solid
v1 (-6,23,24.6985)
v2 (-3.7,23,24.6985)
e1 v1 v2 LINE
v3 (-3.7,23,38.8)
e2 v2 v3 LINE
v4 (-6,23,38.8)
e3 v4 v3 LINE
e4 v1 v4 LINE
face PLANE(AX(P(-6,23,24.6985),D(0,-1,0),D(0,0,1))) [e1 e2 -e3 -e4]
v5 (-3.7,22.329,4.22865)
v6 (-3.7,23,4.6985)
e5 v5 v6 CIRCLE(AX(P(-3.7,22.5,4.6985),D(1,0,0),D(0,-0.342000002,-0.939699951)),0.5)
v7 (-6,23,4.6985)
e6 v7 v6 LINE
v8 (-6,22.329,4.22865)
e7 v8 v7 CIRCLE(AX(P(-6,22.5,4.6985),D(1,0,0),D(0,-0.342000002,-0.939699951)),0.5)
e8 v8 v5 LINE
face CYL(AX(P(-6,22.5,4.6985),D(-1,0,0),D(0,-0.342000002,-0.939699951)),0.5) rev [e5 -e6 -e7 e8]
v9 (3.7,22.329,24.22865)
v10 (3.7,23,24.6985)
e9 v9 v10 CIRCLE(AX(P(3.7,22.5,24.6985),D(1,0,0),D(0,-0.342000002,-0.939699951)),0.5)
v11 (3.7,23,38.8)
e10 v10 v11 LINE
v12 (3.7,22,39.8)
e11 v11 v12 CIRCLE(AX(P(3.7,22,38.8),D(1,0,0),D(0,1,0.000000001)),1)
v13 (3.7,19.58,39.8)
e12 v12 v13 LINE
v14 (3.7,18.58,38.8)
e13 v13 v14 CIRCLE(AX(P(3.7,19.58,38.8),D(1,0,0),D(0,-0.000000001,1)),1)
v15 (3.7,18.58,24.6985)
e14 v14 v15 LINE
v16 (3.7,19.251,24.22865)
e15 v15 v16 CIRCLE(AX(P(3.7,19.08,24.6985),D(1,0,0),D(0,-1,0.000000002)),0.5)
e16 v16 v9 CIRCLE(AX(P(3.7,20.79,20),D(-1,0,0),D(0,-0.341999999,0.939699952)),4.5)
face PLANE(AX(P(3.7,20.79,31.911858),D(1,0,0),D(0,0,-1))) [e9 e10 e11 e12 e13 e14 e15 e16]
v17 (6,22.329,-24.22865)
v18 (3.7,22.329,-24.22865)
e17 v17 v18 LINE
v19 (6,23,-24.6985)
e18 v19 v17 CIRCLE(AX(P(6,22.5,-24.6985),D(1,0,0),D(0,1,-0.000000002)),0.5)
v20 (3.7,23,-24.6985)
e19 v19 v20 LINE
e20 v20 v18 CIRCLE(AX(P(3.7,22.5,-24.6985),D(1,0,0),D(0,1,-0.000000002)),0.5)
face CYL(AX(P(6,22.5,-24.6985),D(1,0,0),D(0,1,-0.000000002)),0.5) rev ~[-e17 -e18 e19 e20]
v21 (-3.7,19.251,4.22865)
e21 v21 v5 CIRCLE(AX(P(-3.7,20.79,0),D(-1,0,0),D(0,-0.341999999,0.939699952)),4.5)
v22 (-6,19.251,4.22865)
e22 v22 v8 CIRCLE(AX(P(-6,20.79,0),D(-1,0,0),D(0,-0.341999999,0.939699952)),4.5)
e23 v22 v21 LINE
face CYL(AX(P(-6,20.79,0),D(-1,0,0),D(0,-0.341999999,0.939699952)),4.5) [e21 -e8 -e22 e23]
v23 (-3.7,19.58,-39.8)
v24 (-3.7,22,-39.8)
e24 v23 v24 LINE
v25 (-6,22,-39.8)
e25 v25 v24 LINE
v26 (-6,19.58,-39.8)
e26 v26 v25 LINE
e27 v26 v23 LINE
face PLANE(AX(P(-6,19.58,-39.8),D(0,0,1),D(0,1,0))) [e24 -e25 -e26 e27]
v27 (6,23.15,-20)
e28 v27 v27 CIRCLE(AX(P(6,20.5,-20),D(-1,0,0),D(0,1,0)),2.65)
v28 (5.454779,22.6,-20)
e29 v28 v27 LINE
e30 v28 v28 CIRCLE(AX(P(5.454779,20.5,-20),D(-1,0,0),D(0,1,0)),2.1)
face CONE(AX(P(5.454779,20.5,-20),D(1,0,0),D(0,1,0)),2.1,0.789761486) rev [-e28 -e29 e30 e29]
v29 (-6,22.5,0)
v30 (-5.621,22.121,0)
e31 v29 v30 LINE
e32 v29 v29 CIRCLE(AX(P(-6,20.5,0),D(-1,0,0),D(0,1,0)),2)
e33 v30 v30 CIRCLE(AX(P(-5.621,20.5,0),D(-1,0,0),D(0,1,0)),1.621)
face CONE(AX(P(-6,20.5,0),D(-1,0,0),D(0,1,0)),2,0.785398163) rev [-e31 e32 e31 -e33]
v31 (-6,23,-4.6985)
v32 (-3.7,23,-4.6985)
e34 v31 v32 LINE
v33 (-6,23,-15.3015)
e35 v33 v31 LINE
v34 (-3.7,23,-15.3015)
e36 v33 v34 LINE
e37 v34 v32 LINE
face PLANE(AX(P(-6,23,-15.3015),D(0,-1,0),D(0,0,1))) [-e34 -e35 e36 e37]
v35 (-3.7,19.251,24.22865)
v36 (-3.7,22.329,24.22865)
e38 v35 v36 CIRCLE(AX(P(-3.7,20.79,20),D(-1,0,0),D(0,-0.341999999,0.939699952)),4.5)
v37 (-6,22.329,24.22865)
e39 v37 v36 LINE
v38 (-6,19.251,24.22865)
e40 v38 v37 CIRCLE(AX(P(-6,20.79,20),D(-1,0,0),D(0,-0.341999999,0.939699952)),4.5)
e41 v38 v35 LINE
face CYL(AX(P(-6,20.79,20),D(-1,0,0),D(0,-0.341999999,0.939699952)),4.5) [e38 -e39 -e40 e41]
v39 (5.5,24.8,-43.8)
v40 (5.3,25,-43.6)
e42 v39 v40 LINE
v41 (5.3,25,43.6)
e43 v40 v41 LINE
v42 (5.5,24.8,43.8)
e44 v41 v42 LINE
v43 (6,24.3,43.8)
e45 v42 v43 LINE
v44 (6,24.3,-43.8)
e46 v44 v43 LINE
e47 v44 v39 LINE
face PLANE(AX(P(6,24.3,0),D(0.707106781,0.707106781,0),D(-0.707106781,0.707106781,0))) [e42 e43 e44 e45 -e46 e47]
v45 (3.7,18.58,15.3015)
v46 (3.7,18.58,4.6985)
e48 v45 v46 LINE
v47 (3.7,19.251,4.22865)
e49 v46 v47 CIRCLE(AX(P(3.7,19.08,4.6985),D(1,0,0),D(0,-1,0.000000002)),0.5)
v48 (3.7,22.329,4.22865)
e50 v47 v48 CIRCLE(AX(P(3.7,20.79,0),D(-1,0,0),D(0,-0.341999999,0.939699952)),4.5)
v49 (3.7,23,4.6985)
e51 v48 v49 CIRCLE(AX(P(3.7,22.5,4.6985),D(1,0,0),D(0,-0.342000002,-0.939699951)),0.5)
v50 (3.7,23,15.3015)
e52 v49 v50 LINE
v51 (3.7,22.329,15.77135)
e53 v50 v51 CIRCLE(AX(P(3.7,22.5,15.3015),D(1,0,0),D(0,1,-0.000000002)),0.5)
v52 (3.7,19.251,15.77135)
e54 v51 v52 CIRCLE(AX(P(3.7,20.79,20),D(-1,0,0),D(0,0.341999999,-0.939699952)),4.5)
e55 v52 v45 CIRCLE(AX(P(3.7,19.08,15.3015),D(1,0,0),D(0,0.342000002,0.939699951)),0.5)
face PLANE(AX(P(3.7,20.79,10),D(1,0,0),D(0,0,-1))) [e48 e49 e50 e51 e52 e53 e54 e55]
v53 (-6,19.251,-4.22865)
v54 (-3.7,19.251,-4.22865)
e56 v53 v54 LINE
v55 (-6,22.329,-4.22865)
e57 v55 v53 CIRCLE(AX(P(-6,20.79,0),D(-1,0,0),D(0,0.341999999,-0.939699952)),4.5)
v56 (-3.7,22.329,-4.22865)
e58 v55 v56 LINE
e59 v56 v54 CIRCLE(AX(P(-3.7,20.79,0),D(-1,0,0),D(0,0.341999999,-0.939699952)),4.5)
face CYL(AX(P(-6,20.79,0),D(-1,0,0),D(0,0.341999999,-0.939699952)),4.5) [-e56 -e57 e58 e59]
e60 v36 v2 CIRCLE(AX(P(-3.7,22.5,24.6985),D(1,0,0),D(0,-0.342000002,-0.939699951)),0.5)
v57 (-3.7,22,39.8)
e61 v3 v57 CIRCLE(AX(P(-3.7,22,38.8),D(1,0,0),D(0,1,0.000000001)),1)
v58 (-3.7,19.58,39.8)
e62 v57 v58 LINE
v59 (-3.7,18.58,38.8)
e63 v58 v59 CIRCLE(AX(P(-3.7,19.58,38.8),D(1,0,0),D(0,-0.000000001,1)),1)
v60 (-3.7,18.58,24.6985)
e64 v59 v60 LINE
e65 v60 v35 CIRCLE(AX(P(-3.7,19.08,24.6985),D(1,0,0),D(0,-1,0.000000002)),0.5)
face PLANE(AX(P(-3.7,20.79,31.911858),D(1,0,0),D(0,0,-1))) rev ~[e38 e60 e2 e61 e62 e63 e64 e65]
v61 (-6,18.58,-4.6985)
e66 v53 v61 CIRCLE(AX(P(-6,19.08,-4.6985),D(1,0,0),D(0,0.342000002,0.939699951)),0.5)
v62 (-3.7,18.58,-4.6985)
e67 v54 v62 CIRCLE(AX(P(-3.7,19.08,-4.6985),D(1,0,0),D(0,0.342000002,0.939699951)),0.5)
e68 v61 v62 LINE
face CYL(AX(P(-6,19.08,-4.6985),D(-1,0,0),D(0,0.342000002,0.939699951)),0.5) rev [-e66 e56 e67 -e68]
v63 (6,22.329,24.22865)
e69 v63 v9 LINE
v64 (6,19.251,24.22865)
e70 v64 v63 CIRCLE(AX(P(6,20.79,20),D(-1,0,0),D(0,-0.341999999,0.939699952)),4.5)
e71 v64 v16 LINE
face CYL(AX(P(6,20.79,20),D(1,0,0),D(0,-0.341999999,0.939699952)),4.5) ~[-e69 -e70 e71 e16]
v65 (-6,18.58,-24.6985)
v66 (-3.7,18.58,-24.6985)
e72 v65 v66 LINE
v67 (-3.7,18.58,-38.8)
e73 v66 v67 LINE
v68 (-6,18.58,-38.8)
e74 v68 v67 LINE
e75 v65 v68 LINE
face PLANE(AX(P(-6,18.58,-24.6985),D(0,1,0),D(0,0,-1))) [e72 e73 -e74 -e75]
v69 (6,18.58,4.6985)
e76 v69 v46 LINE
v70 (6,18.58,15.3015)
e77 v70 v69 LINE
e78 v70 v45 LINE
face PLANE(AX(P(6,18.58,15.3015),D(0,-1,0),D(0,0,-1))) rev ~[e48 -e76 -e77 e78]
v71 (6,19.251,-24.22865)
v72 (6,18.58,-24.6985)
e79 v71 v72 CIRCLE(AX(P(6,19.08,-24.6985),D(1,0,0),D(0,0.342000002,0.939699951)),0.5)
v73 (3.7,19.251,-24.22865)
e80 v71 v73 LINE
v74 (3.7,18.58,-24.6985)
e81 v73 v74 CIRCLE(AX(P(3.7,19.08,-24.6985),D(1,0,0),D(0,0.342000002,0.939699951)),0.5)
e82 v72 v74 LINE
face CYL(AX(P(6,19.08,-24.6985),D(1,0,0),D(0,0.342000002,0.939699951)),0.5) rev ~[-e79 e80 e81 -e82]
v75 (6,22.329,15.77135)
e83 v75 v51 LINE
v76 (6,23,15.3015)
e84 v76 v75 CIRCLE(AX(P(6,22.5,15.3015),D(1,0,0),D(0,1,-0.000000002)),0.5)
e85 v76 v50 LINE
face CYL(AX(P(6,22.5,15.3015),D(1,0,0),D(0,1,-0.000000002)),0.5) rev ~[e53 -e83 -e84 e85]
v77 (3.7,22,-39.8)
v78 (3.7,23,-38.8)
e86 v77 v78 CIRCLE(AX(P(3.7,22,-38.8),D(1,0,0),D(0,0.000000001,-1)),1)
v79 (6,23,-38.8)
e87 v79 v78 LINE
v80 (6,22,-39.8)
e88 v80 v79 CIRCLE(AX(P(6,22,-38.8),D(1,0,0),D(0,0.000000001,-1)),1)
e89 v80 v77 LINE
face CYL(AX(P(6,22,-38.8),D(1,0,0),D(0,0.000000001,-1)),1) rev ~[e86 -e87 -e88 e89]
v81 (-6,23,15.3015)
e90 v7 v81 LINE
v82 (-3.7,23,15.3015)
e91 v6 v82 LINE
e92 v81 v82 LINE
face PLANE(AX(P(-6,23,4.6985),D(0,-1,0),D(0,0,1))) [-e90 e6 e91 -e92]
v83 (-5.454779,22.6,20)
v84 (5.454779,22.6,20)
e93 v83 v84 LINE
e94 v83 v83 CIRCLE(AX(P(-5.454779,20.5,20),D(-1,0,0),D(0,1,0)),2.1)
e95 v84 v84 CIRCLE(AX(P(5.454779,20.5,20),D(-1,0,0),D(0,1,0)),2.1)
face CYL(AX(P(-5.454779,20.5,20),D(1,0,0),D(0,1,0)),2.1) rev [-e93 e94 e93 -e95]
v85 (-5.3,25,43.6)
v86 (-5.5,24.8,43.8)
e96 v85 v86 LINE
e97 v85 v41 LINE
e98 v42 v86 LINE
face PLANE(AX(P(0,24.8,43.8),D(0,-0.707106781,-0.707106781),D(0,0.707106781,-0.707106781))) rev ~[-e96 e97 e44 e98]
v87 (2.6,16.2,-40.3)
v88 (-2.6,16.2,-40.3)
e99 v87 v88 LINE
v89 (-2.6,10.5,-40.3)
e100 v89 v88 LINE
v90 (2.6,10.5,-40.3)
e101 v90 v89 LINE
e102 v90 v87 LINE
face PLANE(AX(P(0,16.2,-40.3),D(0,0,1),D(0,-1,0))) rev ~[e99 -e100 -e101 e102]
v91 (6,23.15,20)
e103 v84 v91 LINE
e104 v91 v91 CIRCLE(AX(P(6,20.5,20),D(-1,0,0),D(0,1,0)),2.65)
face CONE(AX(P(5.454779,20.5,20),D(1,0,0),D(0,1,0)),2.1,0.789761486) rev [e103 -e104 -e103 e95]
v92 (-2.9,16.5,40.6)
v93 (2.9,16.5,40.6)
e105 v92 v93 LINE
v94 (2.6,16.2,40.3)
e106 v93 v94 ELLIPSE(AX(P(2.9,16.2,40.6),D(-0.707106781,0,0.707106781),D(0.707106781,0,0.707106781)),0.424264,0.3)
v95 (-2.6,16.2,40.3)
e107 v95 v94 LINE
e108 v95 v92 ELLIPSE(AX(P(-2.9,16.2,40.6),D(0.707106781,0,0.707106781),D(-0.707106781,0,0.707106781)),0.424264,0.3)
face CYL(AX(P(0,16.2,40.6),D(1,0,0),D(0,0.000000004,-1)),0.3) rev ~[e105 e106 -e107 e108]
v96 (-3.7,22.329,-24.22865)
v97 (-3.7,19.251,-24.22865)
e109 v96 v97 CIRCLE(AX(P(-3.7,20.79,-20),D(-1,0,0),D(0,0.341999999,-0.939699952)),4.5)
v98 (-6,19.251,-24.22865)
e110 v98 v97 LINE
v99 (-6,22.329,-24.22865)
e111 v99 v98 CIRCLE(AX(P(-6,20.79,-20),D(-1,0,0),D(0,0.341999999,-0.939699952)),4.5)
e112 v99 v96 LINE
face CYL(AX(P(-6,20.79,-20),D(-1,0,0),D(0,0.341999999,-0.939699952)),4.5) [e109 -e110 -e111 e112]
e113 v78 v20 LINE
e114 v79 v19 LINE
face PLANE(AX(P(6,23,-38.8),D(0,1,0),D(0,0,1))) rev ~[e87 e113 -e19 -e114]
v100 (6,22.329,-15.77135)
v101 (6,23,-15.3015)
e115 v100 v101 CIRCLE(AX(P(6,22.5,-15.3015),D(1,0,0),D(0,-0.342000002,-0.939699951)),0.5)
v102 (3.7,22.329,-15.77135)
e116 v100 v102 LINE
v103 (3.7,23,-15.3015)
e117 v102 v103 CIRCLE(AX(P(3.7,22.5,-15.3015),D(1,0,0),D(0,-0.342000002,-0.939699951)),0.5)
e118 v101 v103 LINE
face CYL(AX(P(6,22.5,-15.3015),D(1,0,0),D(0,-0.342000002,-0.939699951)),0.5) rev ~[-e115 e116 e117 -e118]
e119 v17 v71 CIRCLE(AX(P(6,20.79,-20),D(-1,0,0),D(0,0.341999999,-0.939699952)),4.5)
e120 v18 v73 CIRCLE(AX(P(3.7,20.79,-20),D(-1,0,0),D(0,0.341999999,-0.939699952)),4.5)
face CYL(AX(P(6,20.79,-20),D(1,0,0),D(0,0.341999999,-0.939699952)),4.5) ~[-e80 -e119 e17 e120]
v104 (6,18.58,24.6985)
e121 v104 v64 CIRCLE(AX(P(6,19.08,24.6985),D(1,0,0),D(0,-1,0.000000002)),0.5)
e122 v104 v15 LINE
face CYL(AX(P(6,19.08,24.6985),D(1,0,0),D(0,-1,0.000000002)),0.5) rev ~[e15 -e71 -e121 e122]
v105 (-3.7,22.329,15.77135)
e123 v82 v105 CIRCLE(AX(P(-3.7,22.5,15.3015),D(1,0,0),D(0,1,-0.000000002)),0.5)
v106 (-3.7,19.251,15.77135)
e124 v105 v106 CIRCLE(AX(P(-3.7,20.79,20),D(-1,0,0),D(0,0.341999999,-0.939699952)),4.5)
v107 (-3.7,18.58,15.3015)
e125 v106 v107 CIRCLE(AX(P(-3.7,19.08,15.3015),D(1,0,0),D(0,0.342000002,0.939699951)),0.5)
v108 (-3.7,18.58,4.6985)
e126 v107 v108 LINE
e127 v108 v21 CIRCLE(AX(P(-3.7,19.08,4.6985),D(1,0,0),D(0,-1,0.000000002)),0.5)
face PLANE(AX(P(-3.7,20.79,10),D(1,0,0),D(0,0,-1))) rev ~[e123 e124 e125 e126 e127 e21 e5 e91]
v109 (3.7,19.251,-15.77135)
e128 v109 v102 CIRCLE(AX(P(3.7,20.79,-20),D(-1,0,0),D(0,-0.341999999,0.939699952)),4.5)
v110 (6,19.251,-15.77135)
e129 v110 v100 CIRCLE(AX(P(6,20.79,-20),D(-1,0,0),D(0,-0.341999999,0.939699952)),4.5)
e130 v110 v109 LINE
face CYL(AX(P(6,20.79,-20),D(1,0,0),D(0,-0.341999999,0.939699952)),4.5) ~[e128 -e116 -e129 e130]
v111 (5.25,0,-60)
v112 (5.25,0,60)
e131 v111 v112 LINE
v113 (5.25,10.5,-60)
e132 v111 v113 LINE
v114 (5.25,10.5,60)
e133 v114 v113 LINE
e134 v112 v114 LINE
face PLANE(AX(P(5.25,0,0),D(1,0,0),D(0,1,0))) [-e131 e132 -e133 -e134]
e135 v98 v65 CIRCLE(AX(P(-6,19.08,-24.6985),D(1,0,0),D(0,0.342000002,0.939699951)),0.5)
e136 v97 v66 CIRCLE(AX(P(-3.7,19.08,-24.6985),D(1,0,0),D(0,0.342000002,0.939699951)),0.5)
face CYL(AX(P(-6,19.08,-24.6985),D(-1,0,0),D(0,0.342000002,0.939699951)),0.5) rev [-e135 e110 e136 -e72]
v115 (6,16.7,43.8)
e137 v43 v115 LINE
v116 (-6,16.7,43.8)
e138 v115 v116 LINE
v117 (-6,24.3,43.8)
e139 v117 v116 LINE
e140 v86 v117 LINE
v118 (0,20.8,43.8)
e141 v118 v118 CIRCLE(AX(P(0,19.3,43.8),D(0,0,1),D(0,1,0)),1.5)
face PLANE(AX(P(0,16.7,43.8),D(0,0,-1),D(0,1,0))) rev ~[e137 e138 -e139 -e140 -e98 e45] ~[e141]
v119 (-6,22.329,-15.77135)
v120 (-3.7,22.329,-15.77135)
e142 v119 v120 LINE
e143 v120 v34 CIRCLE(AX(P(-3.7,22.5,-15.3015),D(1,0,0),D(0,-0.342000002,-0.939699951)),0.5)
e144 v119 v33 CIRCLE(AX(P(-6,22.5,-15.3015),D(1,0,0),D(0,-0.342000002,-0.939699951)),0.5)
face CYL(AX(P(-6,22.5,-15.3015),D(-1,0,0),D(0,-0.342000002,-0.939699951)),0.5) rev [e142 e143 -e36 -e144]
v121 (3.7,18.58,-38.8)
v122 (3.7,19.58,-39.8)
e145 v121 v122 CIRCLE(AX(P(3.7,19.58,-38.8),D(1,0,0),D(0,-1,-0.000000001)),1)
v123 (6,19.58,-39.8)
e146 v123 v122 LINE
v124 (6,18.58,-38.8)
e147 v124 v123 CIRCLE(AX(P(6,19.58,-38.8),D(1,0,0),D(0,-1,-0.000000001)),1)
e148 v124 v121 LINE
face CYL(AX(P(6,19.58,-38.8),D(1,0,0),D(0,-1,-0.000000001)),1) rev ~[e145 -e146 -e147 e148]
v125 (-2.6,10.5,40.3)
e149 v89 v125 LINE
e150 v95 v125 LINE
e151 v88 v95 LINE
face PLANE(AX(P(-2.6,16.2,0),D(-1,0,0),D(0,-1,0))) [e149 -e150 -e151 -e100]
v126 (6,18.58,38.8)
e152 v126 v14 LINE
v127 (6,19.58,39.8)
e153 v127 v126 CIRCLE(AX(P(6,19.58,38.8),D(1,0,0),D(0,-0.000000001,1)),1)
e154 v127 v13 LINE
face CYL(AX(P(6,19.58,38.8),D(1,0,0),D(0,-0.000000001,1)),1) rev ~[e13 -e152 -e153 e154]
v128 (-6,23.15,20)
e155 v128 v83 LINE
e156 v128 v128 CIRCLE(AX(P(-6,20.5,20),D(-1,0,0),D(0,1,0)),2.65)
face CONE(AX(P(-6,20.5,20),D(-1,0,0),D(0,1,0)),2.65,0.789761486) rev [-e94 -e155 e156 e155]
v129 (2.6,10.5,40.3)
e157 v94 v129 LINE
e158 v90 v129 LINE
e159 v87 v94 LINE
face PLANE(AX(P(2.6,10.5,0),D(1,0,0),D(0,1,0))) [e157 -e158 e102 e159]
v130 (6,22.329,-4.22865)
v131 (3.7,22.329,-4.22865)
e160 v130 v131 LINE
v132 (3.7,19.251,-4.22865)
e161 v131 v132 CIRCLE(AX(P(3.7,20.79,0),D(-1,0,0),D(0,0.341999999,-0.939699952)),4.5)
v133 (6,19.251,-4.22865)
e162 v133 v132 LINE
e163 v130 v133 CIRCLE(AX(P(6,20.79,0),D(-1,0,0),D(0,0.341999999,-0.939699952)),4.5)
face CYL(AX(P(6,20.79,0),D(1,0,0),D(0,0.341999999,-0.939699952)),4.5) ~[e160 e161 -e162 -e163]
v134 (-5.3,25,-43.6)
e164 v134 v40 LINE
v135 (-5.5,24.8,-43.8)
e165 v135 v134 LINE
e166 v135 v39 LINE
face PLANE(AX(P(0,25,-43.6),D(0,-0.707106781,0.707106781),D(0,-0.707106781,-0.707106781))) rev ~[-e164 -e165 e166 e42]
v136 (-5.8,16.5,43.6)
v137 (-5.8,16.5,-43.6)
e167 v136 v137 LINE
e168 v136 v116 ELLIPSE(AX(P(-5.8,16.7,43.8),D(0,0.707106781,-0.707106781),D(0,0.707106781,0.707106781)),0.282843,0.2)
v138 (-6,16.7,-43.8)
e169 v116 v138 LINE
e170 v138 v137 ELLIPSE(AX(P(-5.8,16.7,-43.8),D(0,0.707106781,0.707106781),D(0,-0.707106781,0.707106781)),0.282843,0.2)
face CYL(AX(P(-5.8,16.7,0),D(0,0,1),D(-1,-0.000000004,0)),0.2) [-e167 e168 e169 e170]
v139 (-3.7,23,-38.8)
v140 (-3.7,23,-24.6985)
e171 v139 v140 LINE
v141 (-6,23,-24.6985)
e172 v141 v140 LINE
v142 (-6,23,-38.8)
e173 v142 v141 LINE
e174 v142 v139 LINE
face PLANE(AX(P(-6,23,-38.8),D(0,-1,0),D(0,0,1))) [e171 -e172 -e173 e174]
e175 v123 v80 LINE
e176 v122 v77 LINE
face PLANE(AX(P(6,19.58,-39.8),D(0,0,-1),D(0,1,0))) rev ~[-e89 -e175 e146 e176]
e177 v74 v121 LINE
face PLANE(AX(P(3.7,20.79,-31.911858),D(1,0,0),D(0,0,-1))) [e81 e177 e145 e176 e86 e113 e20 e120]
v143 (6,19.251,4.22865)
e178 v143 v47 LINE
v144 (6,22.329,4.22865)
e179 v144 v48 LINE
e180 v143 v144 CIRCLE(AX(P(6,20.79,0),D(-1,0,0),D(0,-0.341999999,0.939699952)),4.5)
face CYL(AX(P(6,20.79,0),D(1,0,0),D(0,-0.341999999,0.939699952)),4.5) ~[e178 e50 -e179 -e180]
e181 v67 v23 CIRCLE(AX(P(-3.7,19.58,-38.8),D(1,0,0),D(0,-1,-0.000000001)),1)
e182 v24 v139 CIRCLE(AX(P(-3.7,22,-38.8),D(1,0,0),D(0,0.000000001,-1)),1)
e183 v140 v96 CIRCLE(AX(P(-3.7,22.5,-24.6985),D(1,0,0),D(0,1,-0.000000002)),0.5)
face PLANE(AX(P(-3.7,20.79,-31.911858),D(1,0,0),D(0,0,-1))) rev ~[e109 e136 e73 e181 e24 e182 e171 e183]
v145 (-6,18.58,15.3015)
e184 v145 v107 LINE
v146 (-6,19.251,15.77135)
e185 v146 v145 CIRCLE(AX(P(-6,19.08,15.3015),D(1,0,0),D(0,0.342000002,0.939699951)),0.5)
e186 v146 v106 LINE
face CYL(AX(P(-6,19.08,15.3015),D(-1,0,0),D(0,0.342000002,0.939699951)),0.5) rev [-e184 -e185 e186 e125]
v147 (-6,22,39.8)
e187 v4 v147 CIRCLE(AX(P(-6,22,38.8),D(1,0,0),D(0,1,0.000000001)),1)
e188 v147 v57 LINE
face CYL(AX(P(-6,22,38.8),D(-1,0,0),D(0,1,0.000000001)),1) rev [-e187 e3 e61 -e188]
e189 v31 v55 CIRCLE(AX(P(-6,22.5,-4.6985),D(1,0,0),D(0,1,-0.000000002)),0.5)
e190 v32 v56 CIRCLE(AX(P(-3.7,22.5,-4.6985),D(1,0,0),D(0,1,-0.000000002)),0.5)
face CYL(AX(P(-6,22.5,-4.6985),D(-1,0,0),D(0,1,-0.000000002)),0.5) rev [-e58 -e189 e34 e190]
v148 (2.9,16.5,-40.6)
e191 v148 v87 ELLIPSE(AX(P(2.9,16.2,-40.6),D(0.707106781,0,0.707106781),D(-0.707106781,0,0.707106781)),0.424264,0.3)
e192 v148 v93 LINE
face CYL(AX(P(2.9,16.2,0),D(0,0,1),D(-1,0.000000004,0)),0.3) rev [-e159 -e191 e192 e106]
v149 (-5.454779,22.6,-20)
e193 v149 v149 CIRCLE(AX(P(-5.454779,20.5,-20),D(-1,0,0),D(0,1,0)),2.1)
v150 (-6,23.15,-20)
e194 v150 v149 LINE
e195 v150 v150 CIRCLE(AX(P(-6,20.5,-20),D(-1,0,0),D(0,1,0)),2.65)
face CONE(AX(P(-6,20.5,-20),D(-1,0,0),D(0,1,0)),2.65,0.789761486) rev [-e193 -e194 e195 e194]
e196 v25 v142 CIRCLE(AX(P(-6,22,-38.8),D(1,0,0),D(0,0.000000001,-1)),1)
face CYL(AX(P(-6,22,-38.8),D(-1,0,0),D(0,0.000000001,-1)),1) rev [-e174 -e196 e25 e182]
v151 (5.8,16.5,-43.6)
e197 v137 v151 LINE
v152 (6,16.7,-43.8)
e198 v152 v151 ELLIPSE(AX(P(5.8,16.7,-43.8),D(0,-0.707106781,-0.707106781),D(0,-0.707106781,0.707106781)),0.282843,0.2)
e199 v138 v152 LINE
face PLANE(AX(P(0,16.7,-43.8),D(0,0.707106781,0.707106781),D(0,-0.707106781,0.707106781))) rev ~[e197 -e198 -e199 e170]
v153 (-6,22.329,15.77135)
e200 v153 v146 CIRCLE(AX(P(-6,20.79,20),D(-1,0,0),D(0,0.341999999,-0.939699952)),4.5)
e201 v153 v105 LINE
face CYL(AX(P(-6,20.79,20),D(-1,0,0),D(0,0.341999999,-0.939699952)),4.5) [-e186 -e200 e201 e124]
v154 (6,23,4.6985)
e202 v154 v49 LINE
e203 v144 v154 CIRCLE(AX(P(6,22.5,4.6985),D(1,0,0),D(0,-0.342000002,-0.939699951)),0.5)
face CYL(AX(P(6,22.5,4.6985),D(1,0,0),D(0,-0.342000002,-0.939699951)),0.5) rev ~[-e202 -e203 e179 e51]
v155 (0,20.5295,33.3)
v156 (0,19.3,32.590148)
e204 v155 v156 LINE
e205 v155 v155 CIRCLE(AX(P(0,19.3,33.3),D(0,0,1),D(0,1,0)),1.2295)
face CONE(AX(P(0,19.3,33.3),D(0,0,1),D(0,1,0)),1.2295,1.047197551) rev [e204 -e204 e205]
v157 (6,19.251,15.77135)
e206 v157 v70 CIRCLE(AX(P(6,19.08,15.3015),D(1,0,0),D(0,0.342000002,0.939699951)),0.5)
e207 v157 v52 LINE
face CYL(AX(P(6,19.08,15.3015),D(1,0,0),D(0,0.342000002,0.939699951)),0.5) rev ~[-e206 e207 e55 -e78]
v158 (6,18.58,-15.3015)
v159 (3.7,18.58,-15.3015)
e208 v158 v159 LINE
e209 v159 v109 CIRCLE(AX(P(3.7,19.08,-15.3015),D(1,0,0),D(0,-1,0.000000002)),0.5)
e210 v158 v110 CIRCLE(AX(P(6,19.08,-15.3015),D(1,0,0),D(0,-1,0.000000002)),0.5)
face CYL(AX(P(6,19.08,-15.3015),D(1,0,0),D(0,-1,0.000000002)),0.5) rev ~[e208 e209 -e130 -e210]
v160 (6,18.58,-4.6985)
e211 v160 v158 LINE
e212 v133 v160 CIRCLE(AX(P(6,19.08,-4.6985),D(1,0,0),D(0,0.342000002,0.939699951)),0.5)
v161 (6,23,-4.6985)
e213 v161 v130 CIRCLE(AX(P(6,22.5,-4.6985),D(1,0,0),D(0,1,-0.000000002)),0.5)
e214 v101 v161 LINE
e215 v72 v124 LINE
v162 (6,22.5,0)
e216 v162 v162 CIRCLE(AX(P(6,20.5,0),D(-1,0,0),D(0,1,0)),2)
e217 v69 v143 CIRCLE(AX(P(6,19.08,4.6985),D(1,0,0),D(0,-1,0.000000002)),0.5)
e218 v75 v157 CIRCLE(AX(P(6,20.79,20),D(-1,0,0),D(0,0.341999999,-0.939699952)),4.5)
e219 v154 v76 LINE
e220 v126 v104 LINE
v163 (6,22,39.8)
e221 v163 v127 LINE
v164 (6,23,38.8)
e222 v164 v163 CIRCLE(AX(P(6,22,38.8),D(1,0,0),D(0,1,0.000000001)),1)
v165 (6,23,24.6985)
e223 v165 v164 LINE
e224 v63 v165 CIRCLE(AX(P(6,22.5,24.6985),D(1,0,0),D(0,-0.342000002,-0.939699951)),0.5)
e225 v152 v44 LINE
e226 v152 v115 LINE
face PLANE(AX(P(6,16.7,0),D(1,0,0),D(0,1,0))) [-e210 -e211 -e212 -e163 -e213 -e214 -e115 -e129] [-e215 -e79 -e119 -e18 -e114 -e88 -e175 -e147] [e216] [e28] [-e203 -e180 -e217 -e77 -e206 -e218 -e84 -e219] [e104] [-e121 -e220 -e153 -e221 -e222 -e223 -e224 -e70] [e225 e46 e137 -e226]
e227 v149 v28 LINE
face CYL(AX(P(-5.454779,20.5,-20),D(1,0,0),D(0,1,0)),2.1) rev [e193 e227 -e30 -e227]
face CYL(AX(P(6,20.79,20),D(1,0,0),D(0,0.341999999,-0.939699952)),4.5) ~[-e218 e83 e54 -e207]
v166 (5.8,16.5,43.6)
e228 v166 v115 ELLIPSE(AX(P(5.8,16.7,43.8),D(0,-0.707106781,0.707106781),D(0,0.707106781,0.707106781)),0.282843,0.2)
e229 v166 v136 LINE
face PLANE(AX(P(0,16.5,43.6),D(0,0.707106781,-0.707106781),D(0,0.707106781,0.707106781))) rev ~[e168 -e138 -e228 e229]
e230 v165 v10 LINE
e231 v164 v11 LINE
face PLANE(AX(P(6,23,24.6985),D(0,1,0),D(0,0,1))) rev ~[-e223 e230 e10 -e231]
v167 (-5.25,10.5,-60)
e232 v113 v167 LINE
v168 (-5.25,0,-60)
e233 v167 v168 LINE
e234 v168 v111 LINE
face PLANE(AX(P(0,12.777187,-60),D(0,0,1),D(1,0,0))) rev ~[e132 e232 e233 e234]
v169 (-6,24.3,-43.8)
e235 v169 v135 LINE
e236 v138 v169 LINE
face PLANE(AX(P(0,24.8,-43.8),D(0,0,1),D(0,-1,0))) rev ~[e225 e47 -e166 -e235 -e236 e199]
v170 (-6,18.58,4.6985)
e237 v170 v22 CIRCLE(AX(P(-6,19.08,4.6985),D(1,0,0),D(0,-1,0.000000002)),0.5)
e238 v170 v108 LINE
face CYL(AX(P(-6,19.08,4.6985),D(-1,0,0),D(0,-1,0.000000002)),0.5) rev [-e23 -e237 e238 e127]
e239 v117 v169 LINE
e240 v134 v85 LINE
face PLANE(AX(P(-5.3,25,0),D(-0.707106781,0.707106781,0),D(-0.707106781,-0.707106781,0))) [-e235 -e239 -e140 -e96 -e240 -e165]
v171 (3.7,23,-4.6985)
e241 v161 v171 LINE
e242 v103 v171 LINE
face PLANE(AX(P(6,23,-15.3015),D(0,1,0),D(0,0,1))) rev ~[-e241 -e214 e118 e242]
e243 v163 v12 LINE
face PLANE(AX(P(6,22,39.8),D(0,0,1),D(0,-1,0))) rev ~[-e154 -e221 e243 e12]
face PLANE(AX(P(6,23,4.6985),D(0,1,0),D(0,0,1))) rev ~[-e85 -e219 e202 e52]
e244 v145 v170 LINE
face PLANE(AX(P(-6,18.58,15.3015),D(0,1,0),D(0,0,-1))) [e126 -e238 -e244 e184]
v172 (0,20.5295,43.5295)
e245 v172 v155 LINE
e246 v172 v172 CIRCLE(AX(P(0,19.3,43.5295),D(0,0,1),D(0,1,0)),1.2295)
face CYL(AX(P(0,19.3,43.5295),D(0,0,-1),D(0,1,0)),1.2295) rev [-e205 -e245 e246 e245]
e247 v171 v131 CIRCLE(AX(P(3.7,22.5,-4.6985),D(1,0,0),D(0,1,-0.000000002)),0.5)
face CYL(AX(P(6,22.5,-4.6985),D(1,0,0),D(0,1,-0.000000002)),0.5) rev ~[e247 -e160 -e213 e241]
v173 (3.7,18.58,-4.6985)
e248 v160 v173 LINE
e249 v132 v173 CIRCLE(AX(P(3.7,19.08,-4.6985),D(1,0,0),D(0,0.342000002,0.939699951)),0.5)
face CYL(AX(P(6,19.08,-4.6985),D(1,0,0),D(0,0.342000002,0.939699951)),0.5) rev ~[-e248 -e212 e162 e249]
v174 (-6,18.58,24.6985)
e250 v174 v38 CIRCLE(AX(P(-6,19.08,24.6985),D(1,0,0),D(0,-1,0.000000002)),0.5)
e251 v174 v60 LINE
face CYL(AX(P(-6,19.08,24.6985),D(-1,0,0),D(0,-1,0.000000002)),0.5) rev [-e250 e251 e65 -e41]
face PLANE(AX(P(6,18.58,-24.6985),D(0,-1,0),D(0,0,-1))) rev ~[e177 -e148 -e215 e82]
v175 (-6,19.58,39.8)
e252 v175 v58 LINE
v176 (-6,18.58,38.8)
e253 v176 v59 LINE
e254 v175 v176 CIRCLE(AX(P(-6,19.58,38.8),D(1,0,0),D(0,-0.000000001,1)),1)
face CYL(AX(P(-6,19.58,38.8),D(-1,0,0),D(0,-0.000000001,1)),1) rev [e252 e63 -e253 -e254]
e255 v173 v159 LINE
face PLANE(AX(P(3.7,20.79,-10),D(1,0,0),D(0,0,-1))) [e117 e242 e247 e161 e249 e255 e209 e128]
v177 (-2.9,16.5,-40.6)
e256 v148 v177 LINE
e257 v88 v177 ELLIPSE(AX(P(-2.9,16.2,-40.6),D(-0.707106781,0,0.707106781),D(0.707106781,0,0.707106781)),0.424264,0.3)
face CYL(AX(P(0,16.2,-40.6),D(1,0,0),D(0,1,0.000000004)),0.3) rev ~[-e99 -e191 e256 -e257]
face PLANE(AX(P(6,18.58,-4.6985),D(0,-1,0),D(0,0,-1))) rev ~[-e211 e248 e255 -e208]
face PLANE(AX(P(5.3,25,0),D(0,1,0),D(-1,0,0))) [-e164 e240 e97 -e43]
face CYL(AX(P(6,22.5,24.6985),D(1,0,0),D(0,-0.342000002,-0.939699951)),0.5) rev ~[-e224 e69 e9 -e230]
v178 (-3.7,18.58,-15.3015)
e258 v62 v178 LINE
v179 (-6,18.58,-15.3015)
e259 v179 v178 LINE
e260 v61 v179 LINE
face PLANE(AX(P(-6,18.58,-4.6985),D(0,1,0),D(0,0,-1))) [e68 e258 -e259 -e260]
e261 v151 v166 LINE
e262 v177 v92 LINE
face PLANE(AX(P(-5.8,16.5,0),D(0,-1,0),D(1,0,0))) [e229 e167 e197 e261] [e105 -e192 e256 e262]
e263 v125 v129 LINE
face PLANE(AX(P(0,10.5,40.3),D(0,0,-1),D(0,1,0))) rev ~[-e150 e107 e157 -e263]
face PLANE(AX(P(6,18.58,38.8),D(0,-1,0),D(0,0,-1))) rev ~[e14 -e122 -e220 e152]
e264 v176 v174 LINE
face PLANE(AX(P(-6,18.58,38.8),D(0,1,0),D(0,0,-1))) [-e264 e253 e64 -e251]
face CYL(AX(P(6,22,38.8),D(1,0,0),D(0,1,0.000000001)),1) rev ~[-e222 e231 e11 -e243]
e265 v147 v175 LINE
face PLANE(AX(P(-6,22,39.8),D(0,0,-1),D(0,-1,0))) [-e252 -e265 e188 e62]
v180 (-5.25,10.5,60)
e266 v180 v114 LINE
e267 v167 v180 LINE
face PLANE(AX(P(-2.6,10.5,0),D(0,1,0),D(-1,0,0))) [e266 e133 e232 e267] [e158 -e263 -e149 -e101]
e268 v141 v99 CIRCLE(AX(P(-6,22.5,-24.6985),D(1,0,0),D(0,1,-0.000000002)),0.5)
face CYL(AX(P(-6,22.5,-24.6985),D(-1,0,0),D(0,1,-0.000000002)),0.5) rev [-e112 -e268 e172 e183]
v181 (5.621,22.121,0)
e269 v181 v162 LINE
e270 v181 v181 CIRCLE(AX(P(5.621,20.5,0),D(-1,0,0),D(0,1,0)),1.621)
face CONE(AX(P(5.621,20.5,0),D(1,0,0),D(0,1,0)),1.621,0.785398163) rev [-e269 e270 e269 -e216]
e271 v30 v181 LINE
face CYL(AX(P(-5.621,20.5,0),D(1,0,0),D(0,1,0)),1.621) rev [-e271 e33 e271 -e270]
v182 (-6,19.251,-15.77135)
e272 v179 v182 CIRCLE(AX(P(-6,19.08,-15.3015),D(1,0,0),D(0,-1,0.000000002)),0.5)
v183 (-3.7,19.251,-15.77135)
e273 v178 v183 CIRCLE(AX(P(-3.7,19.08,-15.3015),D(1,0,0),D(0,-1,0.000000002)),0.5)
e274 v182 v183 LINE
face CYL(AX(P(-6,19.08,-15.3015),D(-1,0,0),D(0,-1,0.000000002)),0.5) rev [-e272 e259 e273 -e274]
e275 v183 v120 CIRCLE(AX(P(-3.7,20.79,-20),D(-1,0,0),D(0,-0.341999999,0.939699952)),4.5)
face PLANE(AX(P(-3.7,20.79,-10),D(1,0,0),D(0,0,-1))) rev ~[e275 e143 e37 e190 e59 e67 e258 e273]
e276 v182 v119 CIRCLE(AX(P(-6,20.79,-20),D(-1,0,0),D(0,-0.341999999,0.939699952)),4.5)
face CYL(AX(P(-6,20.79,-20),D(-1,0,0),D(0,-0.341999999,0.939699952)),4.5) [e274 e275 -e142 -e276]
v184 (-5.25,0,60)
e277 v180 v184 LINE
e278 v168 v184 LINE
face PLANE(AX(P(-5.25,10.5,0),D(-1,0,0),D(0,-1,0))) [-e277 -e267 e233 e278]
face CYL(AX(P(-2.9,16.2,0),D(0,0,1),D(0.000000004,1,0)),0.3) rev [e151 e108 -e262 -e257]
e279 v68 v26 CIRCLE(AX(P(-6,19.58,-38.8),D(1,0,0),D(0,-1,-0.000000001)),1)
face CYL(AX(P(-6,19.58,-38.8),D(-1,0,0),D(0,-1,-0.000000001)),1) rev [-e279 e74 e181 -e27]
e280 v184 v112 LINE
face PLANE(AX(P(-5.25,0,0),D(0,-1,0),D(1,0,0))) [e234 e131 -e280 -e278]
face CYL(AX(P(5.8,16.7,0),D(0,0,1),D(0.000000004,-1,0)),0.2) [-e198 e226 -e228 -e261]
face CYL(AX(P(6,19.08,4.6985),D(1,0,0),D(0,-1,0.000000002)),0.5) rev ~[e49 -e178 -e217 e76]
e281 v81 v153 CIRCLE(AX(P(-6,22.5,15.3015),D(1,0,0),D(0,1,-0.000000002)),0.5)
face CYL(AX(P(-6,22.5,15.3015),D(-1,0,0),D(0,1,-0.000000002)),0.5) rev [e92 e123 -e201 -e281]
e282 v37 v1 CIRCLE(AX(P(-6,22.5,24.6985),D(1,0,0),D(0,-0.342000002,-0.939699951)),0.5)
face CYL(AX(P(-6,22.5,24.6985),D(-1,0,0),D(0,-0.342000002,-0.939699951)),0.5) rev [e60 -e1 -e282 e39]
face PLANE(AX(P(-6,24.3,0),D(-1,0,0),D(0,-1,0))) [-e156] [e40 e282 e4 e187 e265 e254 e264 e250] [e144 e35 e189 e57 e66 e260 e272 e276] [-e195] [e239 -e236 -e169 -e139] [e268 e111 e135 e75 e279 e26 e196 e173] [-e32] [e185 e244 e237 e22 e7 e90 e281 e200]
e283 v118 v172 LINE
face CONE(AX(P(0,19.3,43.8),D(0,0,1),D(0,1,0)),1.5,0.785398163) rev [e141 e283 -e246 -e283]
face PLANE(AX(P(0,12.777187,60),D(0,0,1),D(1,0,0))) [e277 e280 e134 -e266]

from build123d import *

# Parameters (mm, degrees)
BOSS_EXTRUDE1_DEPTH      = 60
BOSS_EXTRUDE1_DEPTH_BACK = 60
CUT_EXTRUDE1_DEPTH       = 12
CUT_EXTRUDE1_DEPTH_BACK  = 12
CUT_EXTRUDE2_DEPTH       = 2.3
CUT_EXTRUDE3_DEPTH       = 2.3
CUT_EXTRUDE4_DEPTH       = 2.3
CUT_EXTRUDE5_DEPTH       = 2.3
CUT_EXTRUDE6_START       = 2.3
CUT_EXTRUDE6_DEPTH       = 2.3
CUT_EXTRUDE7_START       = 2.3
CUT_EXTRUDE7_DEPTH       = 2.3
CUT_EXTRUDE8_START       = 2.3
CUT_EXTRUDE8_DEPTH       = 2.3
CUT_EXTRUDE9_START       = 2.3
CUT_EXTRUDE9_DEPTH       = 2.3


with BuildPart() as part:
    # Sketch1 → Boss-Extrude1 (new, two sides: drawn at the far end of the back side and taken through both)
    with BuildSketch(Plane.XY.offset(-BOSS_EXTRUDE1_DEPTH_BACK)):
        with BuildLine():
            Line((-5.8, 16.5), (-2.9, 16.5))
            ThreePointArc((-2.9, 16.5), (-2.687867966, 16.412132034), (-2.6, 16.2))
            Line((-2.6, 16.2), (-2.6, 10.5))
            Line((-2.6, 10.5), (-5.25, 10.5))
            Line((-5.25, 10.5), (-5.25, 0))
            Line((-5.25, 0), (5.25, 0))
            Line((5.25, 0), (5.25, 10.5))
            Line((5.25, 10.5), (2.6, 10.5))
            Line((2.6, 10.5), (2.6, 16.2))
            ThreePointArc((2.6, 16.2), (2.687867966, 16.412132034), (2.9, 16.5))
            Line((2.9, 16.5), (5.8, 16.5))
            ThreePointArc((5.8, 16.5), (5.941421356, 16.558578644), (6, 16.7))
            Line((6, 16.7), (6, 24.3))
            Line((6, 24.3), (5.3, 25))
            Line((5.3, 25), (-5.3, 25))
            Line((-5.3, 25), (-6, 24.3))
            Line((-6, 24.3), (-6, 16.7))
            ThreePointArc((-6, 16.7), (-5.941421356, 16.558578644), (-5.8, 16.5))
        make_face()
    extrude(amount=BOSS_EXTRUDE1_DEPTH + BOSS_EXTRUDE1_DEPTH_BACK)

    # Sketch2 → Cut-Extrude1 (cut, two sides: drawn at the far end of the back side and taken through both)
    with BuildSketch(Plane(origin=(0, 0, 0), x_dir=(0, 0, -1), z_dir=(1, 0, 0)).offset(-CUT_EXTRUDE1_DEPTH_BACK)):
        with BuildLine():
            Line((-65, 30), (-65, 10.5))
            Line((-65, 10.5), (-40.3, 10.5))
            Line((-40.3, 10.5), (-40.3, 16.2))
            ThreePointArc((-40.3, 16.2), (-40.387867966, 16.412132034), (-40.6, 16.5))
            Line((-40.6, 16.5), (-43.6, 16.5))
            Line((-43.6, 16.5), (-43.8, 16.7))
            Line((-43.8, 16.7), (-43.8, 24.8))
            Line((-43.8, 24.8), (-43.6, 25))
            Line((-43.6, 25), (43.6, 25))
            Line((43.6, 25), (43.8, 24.8))
            Line((43.8, 24.8), (43.8, 16.7))
            Line((43.8, 16.7), (43.6, 16.5))
            Line((43.6, 16.5), (40.6, 16.5))
            ThreePointArc((40.6, 16.5), (40.387867966, 16.412132034), (40.3, 16.2))
            Line((40.3, 16.2), (40.3, 10.5))
            Line((40.3, 10.5), (65, 10.5))
            Line((65, 10.5), (65, 30))
            Line((65, 30), (-65, 30))
        make_face()
    extrude(amount=CUT_EXTRUDE1_DEPTH + CUT_EXTRUDE1_DEPTH_BACK, mode=Mode.SUBTRACT)

    # Sketch3 → Cut-Revolve1 (revolve, cut)
    with BuildSketch(Plane.XY):
        Polygon((-6, 20.5), (-6, 22.5), (-5.621, 22.121), (5.621, 22.121), (6, 22.5), (6, 20.5), align=None)
    revolve(axis=Axis((6, 20.5, 0), (-1, 0, 0)), mode=Mode.SUBTRACT)

    # Sketch4 → Cut-Revolve2 (revolve, cut)
    with BuildSketch(Plane.XY.offset(20)):
        Polygon((-6, 20.5), (-6, 23.15), (-5.454778834, 22.6), (5.454778834, 22.6), (6, 23.15), (6, 20.5), align=None)
    revolve(axis=Axis((0, 20.5, 20), (-1, 0, 0)), mode=Mode.SUBTRACT)

    # Sketch5 → Cut-Revolve3 (revolve, cut)
    with BuildSketch(Plane.XY.offset(-20)):
        Polygon((-6, 20.5), (-6, 23.15), (-5.454778834, 22.6), (5.454778834, 22.6), (6, 23.15), (6, 20.5), align=None)
    revolve(axis=Axis((0, 20.5, -20), (-1, 0, 0)), mode=Mode.SUBTRACT)

    # Sketch6 → Cut-Revolve4 (revolve, cut)
    with BuildSketch(Plane(origin=(0, 0, 0), x_dir=(0, 0, -1), z_dir=(1, 0, 0))):
        Polygon((-43.8, 19.3), (-43.8, 20.8), (-43.5295, 20.5295), (-33.3, 20.5295), (-32.590147844, 19.3), align=None)
    revolve(axis=Axis((0, 19.3, 32.590147844), (0, 0, 1)), mode=Mode.SUBTRACT)

    # Sketch7 → Cut-Extrude2 (cut)
    with BuildSketch(Plane(origin=(6, 0, 0), x_dir=(0, 0, -1), z_dir=(1, 0, 0))):
        with BuildLine():
            Line((24.698499761, 18.58), (38.8, 18.58))
            ThreePointArc((38.8, 18.58), (39.507106781, 18.872893219), (39.8, 19.58))
            Line((39.8, 19.58), (39.8, 22))
            ThreePointArc((39.8, 22), (39.507106781, 22.707106781), (38.8, 23))
            Line((38.8, 23), (24.698499761, 23))
            ThreePointArc((24.698499761, 23), (24.288926812, 22.786792608), (24.228649785, 22.329))
            ThreePointArc((24.228649785, 22.329), (24.5, 20.79), (24.228649785, 19.251))
            ThreePointArc((24.228649785, 19.251), (24.288926812, 18.793207392), (24.698499761, 18.58))
        make_face()
    extrude(amount=-CUT_EXTRUDE2_DEPTH, mode=Mode.SUBTRACT)

    # Sketch8 → Cut-Extrude3 (cut)
    with BuildSketch(Plane(origin=(6, 0, 0), x_dir=(0, 0, -1), z_dir=(1, 0, 0))):
        with BuildLine():
            Line((-39.8, 22), (-39.8, 19.58))
            ThreePointArc((-39.8, 19.58), (-39.507106781, 18.872893219), (-38.8, 18.58))
            Line((-38.8, 18.58), (-24.698499761, 18.58))
            ThreePointArc((-24.698499761, 18.58), (-24.288926812, 18.793207392), (-24.228649785, 19.251))
            ThreePointArc((-24.228649785, 19.251), (-24.5, 20.79), (-24.228649785, 22.329))
            ThreePointArc((-24.228649785, 22.329), (-24.288926812, 22.786792608), (-24.698499761, 23))
            Line((-24.698499761, 23), (-38.8, 23))
            ThreePointArc((-38.8, 23), (-39.507106781, 22.707106781), (-39.8, 22))
        make_face()
    extrude(amount=-CUT_EXTRUDE3_DEPTH, mode=Mode.SUBTRACT)

    # Sketch9 → Cut-Extrude4 (cut)
    with BuildSketch(Plane(origin=(6, 0, 0), x_dir=(0, 0, -1), z_dir=(1, 0, 0))):
        with BuildLine():
            Line((4.698499761, 18.58), (15.301500239, 18.58))
            ThreePointArc((15.301500239, 18.58), (15.711073188, 18.793207392), (15.771350215, 19.251))
            ThreePointArc((15.771350215, 19.251), (15.5, 20.79), (15.771350215, 22.329))
            ThreePointArc((15.771350215, 22.329), (15.711073188, 22.786792608), (15.301500239, 23))
            Line((15.301500239, 23), (4.698499761, 23))
            ThreePointArc((4.698499761, 23), (4.288926812, 22.786792608), (4.228649785, 22.329))
            ThreePointArc((4.228649785, 22.329), (4.5, 20.79), (4.228649785, 19.251))
            ThreePointArc((4.228649785, 19.251), (4.288926812, 18.793207392), (4.698499761, 18.58))
        make_face()
    extrude(amount=-CUT_EXTRUDE4_DEPTH, mode=Mode.SUBTRACT)

    # Sketch10 → Cut-Extrude5 (cut)
    with BuildSketch(Plane(origin=(6, 0, 0), x_dir=(0, 0, -1), z_dir=(1, 0, 0))):
        with BuildLine():
            Line((-15.301500239, 18.58), (-4.698499761, 18.58))
            ThreePointArc((-4.698499761, 18.58), (-4.288926812, 18.793207392), (-4.228649785, 19.251))
            ThreePointArc((-4.228649785, 19.251), (-4.5, 20.79), (-4.228649785, 22.329))
            ThreePointArc((-4.228649785, 22.329), (-4.288926812, 22.786792608), (-4.698499761, 23))
            Line((-4.698499761, 23), (-15.301500239, 23))
            ThreePointArc((-15.301500239, 23), (-15.711073188, 22.786792608), (-15.771350215, 22.329))
            ThreePointArc((-15.771350215, 22.329), (-15.5, 20.79), (-15.771350215, 19.251))
            ThreePointArc((-15.771350215, 19.251), (-15.711073188, 18.793207392), (-15.301500239, 18.58))
        make_face()
    extrude(amount=-CUT_EXTRUDE5_DEPTH, mode=Mode.SUBTRACT)

    # Sketch11 → Cut-Extrude6 (cut)
    with BuildSketch(Plane(origin=(-6, 0, 0), x_dir=(0, 0, -1), z_dir=(1, 0, 0)).offset(CUT_EXTRUDE6_START)):
        with BuildLine():
            Line((24.698499761, 18.58), (38.8, 18.58))
            ThreePointArc((38.8, 18.58), (39.507106781, 18.872893219), (39.8, 19.58))
            Line((39.8, 19.58), (39.8, 22))
            ThreePointArc((39.8, 22), (39.507106781, 22.707106781), (38.8, 23))
            Line((38.8, 23), (24.698499761, 23))
            ThreePointArc((24.698499761, 23), (24.288926812, 22.786792608), (24.228649785, 22.329))
            ThreePointArc((24.228649785, 22.329), (24.5, 20.79), (24.228649785, 19.251))
            ThreePointArc((24.228649785, 19.251), (24.288926812, 18.793207392), (24.698499761, 18.58))
        make_face()
    extrude(amount=-CUT_EXTRUDE6_DEPTH, mode=Mode.SUBTRACT)

    # Sketch12 → Cut-Extrude7 (cut)
    with BuildSketch(Plane(origin=(-6, 0, 0), x_dir=(0, 0, -1), z_dir=(1, 0, 0)).offset(CUT_EXTRUDE7_START)):
        with BuildLine():
            Line((-39.8, 22), (-39.8, 19.58))
            ThreePointArc((-39.8, 19.58), (-39.507106781, 18.872893219), (-38.8, 18.58))
            Line((-38.8, 18.58), (-24.698499761, 18.58))
            ThreePointArc((-24.698499761, 18.58), (-24.288926812, 18.793207392), (-24.228649785, 19.251))
            ThreePointArc((-24.228649785, 19.251), (-24.5, 20.79), (-24.228649785, 22.329))
            ThreePointArc((-24.228649785, 22.329), (-24.288926812, 22.786792608), (-24.698499761, 23))
            Line((-24.698499761, 23), (-38.8, 23))
            ThreePointArc((-38.8, 23), (-39.507106781, 22.707106781), (-39.8, 22))
        make_face()
    extrude(amount=-CUT_EXTRUDE7_DEPTH, mode=Mode.SUBTRACT)

    # Sketch13 → Cut-Extrude8 (cut)
    with BuildSketch(Plane(origin=(-6, 0, 0), x_dir=(0, 0, -1), z_dir=(1, 0, 0)).offset(CUT_EXTRUDE8_START)):
        with BuildLine():
            Line((4.698499761, 18.58), (15.301500239, 18.58))
            ThreePointArc((15.301500239, 18.58), (15.711073188, 18.793207392), (15.771350215, 19.251))
            ThreePointArc((15.771350215, 19.251), (15.5, 20.79), (15.771350215, 22.329))
            ThreePointArc((15.771350215, 22.329), (15.711073188, 22.786792608), (15.301500239, 23))
            Line((15.301500239, 23), (4.698499761, 23))
            ThreePointArc((4.698499761, 23), (4.288926812, 22.786792608), (4.228649785, 22.329))
            ThreePointArc((4.228649785, 22.329), (4.5, 20.79), (4.228649785, 19.251))
            ThreePointArc((4.228649785, 19.251), (4.288926812, 18.793207392), (4.698499761, 18.58))
        make_face()
    extrude(amount=-CUT_EXTRUDE8_DEPTH, mode=Mode.SUBTRACT)

    # Sketch14 → Cut-Extrude9 (cut)
    with BuildSketch(Plane(origin=(-6, 0, 0), x_dir=(0, 0, -1), z_dir=(1, 0, 0)).offset(CUT_EXTRUDE9_START)):
        with BuildLine():
            Line((-15.301500239, 18.58), (-4.698499761, 18.58))
            ThreePointArc((-4.698499761, 18.58), (-4.288926812, 18.793207392), (-4.228649785, 19.251))
            ThreePointArc((-4.228649785, 19.251), (-4.5, 20.79), (-4.228649785, 22.329))
            ThreePointArc((-4.228649785, 22.329), (-4.288926812, 22.786792608), (-4.698499761, 23))
            Line((-4.698499761, 23), (-15.301500239, 23))
            ThreePointArc((-15.301500239, 23), (-15.711073188, 22.786792608), (-15.771350215, 22.329))
            ThreePointArc((-15.771350215, 22.329), (-15.5, 20.79), (-15.771350215, 19.251))
            ThreePointArc((-15.771350215, 19.251), (-15.711073188, 18.793207392), (-15.301500239, 18.58))
        make_face()
    extrude(amount=-CUT_EXTRUDE9_DEPTH, mode=Mode.SUBTRACT)


solid = part.part
